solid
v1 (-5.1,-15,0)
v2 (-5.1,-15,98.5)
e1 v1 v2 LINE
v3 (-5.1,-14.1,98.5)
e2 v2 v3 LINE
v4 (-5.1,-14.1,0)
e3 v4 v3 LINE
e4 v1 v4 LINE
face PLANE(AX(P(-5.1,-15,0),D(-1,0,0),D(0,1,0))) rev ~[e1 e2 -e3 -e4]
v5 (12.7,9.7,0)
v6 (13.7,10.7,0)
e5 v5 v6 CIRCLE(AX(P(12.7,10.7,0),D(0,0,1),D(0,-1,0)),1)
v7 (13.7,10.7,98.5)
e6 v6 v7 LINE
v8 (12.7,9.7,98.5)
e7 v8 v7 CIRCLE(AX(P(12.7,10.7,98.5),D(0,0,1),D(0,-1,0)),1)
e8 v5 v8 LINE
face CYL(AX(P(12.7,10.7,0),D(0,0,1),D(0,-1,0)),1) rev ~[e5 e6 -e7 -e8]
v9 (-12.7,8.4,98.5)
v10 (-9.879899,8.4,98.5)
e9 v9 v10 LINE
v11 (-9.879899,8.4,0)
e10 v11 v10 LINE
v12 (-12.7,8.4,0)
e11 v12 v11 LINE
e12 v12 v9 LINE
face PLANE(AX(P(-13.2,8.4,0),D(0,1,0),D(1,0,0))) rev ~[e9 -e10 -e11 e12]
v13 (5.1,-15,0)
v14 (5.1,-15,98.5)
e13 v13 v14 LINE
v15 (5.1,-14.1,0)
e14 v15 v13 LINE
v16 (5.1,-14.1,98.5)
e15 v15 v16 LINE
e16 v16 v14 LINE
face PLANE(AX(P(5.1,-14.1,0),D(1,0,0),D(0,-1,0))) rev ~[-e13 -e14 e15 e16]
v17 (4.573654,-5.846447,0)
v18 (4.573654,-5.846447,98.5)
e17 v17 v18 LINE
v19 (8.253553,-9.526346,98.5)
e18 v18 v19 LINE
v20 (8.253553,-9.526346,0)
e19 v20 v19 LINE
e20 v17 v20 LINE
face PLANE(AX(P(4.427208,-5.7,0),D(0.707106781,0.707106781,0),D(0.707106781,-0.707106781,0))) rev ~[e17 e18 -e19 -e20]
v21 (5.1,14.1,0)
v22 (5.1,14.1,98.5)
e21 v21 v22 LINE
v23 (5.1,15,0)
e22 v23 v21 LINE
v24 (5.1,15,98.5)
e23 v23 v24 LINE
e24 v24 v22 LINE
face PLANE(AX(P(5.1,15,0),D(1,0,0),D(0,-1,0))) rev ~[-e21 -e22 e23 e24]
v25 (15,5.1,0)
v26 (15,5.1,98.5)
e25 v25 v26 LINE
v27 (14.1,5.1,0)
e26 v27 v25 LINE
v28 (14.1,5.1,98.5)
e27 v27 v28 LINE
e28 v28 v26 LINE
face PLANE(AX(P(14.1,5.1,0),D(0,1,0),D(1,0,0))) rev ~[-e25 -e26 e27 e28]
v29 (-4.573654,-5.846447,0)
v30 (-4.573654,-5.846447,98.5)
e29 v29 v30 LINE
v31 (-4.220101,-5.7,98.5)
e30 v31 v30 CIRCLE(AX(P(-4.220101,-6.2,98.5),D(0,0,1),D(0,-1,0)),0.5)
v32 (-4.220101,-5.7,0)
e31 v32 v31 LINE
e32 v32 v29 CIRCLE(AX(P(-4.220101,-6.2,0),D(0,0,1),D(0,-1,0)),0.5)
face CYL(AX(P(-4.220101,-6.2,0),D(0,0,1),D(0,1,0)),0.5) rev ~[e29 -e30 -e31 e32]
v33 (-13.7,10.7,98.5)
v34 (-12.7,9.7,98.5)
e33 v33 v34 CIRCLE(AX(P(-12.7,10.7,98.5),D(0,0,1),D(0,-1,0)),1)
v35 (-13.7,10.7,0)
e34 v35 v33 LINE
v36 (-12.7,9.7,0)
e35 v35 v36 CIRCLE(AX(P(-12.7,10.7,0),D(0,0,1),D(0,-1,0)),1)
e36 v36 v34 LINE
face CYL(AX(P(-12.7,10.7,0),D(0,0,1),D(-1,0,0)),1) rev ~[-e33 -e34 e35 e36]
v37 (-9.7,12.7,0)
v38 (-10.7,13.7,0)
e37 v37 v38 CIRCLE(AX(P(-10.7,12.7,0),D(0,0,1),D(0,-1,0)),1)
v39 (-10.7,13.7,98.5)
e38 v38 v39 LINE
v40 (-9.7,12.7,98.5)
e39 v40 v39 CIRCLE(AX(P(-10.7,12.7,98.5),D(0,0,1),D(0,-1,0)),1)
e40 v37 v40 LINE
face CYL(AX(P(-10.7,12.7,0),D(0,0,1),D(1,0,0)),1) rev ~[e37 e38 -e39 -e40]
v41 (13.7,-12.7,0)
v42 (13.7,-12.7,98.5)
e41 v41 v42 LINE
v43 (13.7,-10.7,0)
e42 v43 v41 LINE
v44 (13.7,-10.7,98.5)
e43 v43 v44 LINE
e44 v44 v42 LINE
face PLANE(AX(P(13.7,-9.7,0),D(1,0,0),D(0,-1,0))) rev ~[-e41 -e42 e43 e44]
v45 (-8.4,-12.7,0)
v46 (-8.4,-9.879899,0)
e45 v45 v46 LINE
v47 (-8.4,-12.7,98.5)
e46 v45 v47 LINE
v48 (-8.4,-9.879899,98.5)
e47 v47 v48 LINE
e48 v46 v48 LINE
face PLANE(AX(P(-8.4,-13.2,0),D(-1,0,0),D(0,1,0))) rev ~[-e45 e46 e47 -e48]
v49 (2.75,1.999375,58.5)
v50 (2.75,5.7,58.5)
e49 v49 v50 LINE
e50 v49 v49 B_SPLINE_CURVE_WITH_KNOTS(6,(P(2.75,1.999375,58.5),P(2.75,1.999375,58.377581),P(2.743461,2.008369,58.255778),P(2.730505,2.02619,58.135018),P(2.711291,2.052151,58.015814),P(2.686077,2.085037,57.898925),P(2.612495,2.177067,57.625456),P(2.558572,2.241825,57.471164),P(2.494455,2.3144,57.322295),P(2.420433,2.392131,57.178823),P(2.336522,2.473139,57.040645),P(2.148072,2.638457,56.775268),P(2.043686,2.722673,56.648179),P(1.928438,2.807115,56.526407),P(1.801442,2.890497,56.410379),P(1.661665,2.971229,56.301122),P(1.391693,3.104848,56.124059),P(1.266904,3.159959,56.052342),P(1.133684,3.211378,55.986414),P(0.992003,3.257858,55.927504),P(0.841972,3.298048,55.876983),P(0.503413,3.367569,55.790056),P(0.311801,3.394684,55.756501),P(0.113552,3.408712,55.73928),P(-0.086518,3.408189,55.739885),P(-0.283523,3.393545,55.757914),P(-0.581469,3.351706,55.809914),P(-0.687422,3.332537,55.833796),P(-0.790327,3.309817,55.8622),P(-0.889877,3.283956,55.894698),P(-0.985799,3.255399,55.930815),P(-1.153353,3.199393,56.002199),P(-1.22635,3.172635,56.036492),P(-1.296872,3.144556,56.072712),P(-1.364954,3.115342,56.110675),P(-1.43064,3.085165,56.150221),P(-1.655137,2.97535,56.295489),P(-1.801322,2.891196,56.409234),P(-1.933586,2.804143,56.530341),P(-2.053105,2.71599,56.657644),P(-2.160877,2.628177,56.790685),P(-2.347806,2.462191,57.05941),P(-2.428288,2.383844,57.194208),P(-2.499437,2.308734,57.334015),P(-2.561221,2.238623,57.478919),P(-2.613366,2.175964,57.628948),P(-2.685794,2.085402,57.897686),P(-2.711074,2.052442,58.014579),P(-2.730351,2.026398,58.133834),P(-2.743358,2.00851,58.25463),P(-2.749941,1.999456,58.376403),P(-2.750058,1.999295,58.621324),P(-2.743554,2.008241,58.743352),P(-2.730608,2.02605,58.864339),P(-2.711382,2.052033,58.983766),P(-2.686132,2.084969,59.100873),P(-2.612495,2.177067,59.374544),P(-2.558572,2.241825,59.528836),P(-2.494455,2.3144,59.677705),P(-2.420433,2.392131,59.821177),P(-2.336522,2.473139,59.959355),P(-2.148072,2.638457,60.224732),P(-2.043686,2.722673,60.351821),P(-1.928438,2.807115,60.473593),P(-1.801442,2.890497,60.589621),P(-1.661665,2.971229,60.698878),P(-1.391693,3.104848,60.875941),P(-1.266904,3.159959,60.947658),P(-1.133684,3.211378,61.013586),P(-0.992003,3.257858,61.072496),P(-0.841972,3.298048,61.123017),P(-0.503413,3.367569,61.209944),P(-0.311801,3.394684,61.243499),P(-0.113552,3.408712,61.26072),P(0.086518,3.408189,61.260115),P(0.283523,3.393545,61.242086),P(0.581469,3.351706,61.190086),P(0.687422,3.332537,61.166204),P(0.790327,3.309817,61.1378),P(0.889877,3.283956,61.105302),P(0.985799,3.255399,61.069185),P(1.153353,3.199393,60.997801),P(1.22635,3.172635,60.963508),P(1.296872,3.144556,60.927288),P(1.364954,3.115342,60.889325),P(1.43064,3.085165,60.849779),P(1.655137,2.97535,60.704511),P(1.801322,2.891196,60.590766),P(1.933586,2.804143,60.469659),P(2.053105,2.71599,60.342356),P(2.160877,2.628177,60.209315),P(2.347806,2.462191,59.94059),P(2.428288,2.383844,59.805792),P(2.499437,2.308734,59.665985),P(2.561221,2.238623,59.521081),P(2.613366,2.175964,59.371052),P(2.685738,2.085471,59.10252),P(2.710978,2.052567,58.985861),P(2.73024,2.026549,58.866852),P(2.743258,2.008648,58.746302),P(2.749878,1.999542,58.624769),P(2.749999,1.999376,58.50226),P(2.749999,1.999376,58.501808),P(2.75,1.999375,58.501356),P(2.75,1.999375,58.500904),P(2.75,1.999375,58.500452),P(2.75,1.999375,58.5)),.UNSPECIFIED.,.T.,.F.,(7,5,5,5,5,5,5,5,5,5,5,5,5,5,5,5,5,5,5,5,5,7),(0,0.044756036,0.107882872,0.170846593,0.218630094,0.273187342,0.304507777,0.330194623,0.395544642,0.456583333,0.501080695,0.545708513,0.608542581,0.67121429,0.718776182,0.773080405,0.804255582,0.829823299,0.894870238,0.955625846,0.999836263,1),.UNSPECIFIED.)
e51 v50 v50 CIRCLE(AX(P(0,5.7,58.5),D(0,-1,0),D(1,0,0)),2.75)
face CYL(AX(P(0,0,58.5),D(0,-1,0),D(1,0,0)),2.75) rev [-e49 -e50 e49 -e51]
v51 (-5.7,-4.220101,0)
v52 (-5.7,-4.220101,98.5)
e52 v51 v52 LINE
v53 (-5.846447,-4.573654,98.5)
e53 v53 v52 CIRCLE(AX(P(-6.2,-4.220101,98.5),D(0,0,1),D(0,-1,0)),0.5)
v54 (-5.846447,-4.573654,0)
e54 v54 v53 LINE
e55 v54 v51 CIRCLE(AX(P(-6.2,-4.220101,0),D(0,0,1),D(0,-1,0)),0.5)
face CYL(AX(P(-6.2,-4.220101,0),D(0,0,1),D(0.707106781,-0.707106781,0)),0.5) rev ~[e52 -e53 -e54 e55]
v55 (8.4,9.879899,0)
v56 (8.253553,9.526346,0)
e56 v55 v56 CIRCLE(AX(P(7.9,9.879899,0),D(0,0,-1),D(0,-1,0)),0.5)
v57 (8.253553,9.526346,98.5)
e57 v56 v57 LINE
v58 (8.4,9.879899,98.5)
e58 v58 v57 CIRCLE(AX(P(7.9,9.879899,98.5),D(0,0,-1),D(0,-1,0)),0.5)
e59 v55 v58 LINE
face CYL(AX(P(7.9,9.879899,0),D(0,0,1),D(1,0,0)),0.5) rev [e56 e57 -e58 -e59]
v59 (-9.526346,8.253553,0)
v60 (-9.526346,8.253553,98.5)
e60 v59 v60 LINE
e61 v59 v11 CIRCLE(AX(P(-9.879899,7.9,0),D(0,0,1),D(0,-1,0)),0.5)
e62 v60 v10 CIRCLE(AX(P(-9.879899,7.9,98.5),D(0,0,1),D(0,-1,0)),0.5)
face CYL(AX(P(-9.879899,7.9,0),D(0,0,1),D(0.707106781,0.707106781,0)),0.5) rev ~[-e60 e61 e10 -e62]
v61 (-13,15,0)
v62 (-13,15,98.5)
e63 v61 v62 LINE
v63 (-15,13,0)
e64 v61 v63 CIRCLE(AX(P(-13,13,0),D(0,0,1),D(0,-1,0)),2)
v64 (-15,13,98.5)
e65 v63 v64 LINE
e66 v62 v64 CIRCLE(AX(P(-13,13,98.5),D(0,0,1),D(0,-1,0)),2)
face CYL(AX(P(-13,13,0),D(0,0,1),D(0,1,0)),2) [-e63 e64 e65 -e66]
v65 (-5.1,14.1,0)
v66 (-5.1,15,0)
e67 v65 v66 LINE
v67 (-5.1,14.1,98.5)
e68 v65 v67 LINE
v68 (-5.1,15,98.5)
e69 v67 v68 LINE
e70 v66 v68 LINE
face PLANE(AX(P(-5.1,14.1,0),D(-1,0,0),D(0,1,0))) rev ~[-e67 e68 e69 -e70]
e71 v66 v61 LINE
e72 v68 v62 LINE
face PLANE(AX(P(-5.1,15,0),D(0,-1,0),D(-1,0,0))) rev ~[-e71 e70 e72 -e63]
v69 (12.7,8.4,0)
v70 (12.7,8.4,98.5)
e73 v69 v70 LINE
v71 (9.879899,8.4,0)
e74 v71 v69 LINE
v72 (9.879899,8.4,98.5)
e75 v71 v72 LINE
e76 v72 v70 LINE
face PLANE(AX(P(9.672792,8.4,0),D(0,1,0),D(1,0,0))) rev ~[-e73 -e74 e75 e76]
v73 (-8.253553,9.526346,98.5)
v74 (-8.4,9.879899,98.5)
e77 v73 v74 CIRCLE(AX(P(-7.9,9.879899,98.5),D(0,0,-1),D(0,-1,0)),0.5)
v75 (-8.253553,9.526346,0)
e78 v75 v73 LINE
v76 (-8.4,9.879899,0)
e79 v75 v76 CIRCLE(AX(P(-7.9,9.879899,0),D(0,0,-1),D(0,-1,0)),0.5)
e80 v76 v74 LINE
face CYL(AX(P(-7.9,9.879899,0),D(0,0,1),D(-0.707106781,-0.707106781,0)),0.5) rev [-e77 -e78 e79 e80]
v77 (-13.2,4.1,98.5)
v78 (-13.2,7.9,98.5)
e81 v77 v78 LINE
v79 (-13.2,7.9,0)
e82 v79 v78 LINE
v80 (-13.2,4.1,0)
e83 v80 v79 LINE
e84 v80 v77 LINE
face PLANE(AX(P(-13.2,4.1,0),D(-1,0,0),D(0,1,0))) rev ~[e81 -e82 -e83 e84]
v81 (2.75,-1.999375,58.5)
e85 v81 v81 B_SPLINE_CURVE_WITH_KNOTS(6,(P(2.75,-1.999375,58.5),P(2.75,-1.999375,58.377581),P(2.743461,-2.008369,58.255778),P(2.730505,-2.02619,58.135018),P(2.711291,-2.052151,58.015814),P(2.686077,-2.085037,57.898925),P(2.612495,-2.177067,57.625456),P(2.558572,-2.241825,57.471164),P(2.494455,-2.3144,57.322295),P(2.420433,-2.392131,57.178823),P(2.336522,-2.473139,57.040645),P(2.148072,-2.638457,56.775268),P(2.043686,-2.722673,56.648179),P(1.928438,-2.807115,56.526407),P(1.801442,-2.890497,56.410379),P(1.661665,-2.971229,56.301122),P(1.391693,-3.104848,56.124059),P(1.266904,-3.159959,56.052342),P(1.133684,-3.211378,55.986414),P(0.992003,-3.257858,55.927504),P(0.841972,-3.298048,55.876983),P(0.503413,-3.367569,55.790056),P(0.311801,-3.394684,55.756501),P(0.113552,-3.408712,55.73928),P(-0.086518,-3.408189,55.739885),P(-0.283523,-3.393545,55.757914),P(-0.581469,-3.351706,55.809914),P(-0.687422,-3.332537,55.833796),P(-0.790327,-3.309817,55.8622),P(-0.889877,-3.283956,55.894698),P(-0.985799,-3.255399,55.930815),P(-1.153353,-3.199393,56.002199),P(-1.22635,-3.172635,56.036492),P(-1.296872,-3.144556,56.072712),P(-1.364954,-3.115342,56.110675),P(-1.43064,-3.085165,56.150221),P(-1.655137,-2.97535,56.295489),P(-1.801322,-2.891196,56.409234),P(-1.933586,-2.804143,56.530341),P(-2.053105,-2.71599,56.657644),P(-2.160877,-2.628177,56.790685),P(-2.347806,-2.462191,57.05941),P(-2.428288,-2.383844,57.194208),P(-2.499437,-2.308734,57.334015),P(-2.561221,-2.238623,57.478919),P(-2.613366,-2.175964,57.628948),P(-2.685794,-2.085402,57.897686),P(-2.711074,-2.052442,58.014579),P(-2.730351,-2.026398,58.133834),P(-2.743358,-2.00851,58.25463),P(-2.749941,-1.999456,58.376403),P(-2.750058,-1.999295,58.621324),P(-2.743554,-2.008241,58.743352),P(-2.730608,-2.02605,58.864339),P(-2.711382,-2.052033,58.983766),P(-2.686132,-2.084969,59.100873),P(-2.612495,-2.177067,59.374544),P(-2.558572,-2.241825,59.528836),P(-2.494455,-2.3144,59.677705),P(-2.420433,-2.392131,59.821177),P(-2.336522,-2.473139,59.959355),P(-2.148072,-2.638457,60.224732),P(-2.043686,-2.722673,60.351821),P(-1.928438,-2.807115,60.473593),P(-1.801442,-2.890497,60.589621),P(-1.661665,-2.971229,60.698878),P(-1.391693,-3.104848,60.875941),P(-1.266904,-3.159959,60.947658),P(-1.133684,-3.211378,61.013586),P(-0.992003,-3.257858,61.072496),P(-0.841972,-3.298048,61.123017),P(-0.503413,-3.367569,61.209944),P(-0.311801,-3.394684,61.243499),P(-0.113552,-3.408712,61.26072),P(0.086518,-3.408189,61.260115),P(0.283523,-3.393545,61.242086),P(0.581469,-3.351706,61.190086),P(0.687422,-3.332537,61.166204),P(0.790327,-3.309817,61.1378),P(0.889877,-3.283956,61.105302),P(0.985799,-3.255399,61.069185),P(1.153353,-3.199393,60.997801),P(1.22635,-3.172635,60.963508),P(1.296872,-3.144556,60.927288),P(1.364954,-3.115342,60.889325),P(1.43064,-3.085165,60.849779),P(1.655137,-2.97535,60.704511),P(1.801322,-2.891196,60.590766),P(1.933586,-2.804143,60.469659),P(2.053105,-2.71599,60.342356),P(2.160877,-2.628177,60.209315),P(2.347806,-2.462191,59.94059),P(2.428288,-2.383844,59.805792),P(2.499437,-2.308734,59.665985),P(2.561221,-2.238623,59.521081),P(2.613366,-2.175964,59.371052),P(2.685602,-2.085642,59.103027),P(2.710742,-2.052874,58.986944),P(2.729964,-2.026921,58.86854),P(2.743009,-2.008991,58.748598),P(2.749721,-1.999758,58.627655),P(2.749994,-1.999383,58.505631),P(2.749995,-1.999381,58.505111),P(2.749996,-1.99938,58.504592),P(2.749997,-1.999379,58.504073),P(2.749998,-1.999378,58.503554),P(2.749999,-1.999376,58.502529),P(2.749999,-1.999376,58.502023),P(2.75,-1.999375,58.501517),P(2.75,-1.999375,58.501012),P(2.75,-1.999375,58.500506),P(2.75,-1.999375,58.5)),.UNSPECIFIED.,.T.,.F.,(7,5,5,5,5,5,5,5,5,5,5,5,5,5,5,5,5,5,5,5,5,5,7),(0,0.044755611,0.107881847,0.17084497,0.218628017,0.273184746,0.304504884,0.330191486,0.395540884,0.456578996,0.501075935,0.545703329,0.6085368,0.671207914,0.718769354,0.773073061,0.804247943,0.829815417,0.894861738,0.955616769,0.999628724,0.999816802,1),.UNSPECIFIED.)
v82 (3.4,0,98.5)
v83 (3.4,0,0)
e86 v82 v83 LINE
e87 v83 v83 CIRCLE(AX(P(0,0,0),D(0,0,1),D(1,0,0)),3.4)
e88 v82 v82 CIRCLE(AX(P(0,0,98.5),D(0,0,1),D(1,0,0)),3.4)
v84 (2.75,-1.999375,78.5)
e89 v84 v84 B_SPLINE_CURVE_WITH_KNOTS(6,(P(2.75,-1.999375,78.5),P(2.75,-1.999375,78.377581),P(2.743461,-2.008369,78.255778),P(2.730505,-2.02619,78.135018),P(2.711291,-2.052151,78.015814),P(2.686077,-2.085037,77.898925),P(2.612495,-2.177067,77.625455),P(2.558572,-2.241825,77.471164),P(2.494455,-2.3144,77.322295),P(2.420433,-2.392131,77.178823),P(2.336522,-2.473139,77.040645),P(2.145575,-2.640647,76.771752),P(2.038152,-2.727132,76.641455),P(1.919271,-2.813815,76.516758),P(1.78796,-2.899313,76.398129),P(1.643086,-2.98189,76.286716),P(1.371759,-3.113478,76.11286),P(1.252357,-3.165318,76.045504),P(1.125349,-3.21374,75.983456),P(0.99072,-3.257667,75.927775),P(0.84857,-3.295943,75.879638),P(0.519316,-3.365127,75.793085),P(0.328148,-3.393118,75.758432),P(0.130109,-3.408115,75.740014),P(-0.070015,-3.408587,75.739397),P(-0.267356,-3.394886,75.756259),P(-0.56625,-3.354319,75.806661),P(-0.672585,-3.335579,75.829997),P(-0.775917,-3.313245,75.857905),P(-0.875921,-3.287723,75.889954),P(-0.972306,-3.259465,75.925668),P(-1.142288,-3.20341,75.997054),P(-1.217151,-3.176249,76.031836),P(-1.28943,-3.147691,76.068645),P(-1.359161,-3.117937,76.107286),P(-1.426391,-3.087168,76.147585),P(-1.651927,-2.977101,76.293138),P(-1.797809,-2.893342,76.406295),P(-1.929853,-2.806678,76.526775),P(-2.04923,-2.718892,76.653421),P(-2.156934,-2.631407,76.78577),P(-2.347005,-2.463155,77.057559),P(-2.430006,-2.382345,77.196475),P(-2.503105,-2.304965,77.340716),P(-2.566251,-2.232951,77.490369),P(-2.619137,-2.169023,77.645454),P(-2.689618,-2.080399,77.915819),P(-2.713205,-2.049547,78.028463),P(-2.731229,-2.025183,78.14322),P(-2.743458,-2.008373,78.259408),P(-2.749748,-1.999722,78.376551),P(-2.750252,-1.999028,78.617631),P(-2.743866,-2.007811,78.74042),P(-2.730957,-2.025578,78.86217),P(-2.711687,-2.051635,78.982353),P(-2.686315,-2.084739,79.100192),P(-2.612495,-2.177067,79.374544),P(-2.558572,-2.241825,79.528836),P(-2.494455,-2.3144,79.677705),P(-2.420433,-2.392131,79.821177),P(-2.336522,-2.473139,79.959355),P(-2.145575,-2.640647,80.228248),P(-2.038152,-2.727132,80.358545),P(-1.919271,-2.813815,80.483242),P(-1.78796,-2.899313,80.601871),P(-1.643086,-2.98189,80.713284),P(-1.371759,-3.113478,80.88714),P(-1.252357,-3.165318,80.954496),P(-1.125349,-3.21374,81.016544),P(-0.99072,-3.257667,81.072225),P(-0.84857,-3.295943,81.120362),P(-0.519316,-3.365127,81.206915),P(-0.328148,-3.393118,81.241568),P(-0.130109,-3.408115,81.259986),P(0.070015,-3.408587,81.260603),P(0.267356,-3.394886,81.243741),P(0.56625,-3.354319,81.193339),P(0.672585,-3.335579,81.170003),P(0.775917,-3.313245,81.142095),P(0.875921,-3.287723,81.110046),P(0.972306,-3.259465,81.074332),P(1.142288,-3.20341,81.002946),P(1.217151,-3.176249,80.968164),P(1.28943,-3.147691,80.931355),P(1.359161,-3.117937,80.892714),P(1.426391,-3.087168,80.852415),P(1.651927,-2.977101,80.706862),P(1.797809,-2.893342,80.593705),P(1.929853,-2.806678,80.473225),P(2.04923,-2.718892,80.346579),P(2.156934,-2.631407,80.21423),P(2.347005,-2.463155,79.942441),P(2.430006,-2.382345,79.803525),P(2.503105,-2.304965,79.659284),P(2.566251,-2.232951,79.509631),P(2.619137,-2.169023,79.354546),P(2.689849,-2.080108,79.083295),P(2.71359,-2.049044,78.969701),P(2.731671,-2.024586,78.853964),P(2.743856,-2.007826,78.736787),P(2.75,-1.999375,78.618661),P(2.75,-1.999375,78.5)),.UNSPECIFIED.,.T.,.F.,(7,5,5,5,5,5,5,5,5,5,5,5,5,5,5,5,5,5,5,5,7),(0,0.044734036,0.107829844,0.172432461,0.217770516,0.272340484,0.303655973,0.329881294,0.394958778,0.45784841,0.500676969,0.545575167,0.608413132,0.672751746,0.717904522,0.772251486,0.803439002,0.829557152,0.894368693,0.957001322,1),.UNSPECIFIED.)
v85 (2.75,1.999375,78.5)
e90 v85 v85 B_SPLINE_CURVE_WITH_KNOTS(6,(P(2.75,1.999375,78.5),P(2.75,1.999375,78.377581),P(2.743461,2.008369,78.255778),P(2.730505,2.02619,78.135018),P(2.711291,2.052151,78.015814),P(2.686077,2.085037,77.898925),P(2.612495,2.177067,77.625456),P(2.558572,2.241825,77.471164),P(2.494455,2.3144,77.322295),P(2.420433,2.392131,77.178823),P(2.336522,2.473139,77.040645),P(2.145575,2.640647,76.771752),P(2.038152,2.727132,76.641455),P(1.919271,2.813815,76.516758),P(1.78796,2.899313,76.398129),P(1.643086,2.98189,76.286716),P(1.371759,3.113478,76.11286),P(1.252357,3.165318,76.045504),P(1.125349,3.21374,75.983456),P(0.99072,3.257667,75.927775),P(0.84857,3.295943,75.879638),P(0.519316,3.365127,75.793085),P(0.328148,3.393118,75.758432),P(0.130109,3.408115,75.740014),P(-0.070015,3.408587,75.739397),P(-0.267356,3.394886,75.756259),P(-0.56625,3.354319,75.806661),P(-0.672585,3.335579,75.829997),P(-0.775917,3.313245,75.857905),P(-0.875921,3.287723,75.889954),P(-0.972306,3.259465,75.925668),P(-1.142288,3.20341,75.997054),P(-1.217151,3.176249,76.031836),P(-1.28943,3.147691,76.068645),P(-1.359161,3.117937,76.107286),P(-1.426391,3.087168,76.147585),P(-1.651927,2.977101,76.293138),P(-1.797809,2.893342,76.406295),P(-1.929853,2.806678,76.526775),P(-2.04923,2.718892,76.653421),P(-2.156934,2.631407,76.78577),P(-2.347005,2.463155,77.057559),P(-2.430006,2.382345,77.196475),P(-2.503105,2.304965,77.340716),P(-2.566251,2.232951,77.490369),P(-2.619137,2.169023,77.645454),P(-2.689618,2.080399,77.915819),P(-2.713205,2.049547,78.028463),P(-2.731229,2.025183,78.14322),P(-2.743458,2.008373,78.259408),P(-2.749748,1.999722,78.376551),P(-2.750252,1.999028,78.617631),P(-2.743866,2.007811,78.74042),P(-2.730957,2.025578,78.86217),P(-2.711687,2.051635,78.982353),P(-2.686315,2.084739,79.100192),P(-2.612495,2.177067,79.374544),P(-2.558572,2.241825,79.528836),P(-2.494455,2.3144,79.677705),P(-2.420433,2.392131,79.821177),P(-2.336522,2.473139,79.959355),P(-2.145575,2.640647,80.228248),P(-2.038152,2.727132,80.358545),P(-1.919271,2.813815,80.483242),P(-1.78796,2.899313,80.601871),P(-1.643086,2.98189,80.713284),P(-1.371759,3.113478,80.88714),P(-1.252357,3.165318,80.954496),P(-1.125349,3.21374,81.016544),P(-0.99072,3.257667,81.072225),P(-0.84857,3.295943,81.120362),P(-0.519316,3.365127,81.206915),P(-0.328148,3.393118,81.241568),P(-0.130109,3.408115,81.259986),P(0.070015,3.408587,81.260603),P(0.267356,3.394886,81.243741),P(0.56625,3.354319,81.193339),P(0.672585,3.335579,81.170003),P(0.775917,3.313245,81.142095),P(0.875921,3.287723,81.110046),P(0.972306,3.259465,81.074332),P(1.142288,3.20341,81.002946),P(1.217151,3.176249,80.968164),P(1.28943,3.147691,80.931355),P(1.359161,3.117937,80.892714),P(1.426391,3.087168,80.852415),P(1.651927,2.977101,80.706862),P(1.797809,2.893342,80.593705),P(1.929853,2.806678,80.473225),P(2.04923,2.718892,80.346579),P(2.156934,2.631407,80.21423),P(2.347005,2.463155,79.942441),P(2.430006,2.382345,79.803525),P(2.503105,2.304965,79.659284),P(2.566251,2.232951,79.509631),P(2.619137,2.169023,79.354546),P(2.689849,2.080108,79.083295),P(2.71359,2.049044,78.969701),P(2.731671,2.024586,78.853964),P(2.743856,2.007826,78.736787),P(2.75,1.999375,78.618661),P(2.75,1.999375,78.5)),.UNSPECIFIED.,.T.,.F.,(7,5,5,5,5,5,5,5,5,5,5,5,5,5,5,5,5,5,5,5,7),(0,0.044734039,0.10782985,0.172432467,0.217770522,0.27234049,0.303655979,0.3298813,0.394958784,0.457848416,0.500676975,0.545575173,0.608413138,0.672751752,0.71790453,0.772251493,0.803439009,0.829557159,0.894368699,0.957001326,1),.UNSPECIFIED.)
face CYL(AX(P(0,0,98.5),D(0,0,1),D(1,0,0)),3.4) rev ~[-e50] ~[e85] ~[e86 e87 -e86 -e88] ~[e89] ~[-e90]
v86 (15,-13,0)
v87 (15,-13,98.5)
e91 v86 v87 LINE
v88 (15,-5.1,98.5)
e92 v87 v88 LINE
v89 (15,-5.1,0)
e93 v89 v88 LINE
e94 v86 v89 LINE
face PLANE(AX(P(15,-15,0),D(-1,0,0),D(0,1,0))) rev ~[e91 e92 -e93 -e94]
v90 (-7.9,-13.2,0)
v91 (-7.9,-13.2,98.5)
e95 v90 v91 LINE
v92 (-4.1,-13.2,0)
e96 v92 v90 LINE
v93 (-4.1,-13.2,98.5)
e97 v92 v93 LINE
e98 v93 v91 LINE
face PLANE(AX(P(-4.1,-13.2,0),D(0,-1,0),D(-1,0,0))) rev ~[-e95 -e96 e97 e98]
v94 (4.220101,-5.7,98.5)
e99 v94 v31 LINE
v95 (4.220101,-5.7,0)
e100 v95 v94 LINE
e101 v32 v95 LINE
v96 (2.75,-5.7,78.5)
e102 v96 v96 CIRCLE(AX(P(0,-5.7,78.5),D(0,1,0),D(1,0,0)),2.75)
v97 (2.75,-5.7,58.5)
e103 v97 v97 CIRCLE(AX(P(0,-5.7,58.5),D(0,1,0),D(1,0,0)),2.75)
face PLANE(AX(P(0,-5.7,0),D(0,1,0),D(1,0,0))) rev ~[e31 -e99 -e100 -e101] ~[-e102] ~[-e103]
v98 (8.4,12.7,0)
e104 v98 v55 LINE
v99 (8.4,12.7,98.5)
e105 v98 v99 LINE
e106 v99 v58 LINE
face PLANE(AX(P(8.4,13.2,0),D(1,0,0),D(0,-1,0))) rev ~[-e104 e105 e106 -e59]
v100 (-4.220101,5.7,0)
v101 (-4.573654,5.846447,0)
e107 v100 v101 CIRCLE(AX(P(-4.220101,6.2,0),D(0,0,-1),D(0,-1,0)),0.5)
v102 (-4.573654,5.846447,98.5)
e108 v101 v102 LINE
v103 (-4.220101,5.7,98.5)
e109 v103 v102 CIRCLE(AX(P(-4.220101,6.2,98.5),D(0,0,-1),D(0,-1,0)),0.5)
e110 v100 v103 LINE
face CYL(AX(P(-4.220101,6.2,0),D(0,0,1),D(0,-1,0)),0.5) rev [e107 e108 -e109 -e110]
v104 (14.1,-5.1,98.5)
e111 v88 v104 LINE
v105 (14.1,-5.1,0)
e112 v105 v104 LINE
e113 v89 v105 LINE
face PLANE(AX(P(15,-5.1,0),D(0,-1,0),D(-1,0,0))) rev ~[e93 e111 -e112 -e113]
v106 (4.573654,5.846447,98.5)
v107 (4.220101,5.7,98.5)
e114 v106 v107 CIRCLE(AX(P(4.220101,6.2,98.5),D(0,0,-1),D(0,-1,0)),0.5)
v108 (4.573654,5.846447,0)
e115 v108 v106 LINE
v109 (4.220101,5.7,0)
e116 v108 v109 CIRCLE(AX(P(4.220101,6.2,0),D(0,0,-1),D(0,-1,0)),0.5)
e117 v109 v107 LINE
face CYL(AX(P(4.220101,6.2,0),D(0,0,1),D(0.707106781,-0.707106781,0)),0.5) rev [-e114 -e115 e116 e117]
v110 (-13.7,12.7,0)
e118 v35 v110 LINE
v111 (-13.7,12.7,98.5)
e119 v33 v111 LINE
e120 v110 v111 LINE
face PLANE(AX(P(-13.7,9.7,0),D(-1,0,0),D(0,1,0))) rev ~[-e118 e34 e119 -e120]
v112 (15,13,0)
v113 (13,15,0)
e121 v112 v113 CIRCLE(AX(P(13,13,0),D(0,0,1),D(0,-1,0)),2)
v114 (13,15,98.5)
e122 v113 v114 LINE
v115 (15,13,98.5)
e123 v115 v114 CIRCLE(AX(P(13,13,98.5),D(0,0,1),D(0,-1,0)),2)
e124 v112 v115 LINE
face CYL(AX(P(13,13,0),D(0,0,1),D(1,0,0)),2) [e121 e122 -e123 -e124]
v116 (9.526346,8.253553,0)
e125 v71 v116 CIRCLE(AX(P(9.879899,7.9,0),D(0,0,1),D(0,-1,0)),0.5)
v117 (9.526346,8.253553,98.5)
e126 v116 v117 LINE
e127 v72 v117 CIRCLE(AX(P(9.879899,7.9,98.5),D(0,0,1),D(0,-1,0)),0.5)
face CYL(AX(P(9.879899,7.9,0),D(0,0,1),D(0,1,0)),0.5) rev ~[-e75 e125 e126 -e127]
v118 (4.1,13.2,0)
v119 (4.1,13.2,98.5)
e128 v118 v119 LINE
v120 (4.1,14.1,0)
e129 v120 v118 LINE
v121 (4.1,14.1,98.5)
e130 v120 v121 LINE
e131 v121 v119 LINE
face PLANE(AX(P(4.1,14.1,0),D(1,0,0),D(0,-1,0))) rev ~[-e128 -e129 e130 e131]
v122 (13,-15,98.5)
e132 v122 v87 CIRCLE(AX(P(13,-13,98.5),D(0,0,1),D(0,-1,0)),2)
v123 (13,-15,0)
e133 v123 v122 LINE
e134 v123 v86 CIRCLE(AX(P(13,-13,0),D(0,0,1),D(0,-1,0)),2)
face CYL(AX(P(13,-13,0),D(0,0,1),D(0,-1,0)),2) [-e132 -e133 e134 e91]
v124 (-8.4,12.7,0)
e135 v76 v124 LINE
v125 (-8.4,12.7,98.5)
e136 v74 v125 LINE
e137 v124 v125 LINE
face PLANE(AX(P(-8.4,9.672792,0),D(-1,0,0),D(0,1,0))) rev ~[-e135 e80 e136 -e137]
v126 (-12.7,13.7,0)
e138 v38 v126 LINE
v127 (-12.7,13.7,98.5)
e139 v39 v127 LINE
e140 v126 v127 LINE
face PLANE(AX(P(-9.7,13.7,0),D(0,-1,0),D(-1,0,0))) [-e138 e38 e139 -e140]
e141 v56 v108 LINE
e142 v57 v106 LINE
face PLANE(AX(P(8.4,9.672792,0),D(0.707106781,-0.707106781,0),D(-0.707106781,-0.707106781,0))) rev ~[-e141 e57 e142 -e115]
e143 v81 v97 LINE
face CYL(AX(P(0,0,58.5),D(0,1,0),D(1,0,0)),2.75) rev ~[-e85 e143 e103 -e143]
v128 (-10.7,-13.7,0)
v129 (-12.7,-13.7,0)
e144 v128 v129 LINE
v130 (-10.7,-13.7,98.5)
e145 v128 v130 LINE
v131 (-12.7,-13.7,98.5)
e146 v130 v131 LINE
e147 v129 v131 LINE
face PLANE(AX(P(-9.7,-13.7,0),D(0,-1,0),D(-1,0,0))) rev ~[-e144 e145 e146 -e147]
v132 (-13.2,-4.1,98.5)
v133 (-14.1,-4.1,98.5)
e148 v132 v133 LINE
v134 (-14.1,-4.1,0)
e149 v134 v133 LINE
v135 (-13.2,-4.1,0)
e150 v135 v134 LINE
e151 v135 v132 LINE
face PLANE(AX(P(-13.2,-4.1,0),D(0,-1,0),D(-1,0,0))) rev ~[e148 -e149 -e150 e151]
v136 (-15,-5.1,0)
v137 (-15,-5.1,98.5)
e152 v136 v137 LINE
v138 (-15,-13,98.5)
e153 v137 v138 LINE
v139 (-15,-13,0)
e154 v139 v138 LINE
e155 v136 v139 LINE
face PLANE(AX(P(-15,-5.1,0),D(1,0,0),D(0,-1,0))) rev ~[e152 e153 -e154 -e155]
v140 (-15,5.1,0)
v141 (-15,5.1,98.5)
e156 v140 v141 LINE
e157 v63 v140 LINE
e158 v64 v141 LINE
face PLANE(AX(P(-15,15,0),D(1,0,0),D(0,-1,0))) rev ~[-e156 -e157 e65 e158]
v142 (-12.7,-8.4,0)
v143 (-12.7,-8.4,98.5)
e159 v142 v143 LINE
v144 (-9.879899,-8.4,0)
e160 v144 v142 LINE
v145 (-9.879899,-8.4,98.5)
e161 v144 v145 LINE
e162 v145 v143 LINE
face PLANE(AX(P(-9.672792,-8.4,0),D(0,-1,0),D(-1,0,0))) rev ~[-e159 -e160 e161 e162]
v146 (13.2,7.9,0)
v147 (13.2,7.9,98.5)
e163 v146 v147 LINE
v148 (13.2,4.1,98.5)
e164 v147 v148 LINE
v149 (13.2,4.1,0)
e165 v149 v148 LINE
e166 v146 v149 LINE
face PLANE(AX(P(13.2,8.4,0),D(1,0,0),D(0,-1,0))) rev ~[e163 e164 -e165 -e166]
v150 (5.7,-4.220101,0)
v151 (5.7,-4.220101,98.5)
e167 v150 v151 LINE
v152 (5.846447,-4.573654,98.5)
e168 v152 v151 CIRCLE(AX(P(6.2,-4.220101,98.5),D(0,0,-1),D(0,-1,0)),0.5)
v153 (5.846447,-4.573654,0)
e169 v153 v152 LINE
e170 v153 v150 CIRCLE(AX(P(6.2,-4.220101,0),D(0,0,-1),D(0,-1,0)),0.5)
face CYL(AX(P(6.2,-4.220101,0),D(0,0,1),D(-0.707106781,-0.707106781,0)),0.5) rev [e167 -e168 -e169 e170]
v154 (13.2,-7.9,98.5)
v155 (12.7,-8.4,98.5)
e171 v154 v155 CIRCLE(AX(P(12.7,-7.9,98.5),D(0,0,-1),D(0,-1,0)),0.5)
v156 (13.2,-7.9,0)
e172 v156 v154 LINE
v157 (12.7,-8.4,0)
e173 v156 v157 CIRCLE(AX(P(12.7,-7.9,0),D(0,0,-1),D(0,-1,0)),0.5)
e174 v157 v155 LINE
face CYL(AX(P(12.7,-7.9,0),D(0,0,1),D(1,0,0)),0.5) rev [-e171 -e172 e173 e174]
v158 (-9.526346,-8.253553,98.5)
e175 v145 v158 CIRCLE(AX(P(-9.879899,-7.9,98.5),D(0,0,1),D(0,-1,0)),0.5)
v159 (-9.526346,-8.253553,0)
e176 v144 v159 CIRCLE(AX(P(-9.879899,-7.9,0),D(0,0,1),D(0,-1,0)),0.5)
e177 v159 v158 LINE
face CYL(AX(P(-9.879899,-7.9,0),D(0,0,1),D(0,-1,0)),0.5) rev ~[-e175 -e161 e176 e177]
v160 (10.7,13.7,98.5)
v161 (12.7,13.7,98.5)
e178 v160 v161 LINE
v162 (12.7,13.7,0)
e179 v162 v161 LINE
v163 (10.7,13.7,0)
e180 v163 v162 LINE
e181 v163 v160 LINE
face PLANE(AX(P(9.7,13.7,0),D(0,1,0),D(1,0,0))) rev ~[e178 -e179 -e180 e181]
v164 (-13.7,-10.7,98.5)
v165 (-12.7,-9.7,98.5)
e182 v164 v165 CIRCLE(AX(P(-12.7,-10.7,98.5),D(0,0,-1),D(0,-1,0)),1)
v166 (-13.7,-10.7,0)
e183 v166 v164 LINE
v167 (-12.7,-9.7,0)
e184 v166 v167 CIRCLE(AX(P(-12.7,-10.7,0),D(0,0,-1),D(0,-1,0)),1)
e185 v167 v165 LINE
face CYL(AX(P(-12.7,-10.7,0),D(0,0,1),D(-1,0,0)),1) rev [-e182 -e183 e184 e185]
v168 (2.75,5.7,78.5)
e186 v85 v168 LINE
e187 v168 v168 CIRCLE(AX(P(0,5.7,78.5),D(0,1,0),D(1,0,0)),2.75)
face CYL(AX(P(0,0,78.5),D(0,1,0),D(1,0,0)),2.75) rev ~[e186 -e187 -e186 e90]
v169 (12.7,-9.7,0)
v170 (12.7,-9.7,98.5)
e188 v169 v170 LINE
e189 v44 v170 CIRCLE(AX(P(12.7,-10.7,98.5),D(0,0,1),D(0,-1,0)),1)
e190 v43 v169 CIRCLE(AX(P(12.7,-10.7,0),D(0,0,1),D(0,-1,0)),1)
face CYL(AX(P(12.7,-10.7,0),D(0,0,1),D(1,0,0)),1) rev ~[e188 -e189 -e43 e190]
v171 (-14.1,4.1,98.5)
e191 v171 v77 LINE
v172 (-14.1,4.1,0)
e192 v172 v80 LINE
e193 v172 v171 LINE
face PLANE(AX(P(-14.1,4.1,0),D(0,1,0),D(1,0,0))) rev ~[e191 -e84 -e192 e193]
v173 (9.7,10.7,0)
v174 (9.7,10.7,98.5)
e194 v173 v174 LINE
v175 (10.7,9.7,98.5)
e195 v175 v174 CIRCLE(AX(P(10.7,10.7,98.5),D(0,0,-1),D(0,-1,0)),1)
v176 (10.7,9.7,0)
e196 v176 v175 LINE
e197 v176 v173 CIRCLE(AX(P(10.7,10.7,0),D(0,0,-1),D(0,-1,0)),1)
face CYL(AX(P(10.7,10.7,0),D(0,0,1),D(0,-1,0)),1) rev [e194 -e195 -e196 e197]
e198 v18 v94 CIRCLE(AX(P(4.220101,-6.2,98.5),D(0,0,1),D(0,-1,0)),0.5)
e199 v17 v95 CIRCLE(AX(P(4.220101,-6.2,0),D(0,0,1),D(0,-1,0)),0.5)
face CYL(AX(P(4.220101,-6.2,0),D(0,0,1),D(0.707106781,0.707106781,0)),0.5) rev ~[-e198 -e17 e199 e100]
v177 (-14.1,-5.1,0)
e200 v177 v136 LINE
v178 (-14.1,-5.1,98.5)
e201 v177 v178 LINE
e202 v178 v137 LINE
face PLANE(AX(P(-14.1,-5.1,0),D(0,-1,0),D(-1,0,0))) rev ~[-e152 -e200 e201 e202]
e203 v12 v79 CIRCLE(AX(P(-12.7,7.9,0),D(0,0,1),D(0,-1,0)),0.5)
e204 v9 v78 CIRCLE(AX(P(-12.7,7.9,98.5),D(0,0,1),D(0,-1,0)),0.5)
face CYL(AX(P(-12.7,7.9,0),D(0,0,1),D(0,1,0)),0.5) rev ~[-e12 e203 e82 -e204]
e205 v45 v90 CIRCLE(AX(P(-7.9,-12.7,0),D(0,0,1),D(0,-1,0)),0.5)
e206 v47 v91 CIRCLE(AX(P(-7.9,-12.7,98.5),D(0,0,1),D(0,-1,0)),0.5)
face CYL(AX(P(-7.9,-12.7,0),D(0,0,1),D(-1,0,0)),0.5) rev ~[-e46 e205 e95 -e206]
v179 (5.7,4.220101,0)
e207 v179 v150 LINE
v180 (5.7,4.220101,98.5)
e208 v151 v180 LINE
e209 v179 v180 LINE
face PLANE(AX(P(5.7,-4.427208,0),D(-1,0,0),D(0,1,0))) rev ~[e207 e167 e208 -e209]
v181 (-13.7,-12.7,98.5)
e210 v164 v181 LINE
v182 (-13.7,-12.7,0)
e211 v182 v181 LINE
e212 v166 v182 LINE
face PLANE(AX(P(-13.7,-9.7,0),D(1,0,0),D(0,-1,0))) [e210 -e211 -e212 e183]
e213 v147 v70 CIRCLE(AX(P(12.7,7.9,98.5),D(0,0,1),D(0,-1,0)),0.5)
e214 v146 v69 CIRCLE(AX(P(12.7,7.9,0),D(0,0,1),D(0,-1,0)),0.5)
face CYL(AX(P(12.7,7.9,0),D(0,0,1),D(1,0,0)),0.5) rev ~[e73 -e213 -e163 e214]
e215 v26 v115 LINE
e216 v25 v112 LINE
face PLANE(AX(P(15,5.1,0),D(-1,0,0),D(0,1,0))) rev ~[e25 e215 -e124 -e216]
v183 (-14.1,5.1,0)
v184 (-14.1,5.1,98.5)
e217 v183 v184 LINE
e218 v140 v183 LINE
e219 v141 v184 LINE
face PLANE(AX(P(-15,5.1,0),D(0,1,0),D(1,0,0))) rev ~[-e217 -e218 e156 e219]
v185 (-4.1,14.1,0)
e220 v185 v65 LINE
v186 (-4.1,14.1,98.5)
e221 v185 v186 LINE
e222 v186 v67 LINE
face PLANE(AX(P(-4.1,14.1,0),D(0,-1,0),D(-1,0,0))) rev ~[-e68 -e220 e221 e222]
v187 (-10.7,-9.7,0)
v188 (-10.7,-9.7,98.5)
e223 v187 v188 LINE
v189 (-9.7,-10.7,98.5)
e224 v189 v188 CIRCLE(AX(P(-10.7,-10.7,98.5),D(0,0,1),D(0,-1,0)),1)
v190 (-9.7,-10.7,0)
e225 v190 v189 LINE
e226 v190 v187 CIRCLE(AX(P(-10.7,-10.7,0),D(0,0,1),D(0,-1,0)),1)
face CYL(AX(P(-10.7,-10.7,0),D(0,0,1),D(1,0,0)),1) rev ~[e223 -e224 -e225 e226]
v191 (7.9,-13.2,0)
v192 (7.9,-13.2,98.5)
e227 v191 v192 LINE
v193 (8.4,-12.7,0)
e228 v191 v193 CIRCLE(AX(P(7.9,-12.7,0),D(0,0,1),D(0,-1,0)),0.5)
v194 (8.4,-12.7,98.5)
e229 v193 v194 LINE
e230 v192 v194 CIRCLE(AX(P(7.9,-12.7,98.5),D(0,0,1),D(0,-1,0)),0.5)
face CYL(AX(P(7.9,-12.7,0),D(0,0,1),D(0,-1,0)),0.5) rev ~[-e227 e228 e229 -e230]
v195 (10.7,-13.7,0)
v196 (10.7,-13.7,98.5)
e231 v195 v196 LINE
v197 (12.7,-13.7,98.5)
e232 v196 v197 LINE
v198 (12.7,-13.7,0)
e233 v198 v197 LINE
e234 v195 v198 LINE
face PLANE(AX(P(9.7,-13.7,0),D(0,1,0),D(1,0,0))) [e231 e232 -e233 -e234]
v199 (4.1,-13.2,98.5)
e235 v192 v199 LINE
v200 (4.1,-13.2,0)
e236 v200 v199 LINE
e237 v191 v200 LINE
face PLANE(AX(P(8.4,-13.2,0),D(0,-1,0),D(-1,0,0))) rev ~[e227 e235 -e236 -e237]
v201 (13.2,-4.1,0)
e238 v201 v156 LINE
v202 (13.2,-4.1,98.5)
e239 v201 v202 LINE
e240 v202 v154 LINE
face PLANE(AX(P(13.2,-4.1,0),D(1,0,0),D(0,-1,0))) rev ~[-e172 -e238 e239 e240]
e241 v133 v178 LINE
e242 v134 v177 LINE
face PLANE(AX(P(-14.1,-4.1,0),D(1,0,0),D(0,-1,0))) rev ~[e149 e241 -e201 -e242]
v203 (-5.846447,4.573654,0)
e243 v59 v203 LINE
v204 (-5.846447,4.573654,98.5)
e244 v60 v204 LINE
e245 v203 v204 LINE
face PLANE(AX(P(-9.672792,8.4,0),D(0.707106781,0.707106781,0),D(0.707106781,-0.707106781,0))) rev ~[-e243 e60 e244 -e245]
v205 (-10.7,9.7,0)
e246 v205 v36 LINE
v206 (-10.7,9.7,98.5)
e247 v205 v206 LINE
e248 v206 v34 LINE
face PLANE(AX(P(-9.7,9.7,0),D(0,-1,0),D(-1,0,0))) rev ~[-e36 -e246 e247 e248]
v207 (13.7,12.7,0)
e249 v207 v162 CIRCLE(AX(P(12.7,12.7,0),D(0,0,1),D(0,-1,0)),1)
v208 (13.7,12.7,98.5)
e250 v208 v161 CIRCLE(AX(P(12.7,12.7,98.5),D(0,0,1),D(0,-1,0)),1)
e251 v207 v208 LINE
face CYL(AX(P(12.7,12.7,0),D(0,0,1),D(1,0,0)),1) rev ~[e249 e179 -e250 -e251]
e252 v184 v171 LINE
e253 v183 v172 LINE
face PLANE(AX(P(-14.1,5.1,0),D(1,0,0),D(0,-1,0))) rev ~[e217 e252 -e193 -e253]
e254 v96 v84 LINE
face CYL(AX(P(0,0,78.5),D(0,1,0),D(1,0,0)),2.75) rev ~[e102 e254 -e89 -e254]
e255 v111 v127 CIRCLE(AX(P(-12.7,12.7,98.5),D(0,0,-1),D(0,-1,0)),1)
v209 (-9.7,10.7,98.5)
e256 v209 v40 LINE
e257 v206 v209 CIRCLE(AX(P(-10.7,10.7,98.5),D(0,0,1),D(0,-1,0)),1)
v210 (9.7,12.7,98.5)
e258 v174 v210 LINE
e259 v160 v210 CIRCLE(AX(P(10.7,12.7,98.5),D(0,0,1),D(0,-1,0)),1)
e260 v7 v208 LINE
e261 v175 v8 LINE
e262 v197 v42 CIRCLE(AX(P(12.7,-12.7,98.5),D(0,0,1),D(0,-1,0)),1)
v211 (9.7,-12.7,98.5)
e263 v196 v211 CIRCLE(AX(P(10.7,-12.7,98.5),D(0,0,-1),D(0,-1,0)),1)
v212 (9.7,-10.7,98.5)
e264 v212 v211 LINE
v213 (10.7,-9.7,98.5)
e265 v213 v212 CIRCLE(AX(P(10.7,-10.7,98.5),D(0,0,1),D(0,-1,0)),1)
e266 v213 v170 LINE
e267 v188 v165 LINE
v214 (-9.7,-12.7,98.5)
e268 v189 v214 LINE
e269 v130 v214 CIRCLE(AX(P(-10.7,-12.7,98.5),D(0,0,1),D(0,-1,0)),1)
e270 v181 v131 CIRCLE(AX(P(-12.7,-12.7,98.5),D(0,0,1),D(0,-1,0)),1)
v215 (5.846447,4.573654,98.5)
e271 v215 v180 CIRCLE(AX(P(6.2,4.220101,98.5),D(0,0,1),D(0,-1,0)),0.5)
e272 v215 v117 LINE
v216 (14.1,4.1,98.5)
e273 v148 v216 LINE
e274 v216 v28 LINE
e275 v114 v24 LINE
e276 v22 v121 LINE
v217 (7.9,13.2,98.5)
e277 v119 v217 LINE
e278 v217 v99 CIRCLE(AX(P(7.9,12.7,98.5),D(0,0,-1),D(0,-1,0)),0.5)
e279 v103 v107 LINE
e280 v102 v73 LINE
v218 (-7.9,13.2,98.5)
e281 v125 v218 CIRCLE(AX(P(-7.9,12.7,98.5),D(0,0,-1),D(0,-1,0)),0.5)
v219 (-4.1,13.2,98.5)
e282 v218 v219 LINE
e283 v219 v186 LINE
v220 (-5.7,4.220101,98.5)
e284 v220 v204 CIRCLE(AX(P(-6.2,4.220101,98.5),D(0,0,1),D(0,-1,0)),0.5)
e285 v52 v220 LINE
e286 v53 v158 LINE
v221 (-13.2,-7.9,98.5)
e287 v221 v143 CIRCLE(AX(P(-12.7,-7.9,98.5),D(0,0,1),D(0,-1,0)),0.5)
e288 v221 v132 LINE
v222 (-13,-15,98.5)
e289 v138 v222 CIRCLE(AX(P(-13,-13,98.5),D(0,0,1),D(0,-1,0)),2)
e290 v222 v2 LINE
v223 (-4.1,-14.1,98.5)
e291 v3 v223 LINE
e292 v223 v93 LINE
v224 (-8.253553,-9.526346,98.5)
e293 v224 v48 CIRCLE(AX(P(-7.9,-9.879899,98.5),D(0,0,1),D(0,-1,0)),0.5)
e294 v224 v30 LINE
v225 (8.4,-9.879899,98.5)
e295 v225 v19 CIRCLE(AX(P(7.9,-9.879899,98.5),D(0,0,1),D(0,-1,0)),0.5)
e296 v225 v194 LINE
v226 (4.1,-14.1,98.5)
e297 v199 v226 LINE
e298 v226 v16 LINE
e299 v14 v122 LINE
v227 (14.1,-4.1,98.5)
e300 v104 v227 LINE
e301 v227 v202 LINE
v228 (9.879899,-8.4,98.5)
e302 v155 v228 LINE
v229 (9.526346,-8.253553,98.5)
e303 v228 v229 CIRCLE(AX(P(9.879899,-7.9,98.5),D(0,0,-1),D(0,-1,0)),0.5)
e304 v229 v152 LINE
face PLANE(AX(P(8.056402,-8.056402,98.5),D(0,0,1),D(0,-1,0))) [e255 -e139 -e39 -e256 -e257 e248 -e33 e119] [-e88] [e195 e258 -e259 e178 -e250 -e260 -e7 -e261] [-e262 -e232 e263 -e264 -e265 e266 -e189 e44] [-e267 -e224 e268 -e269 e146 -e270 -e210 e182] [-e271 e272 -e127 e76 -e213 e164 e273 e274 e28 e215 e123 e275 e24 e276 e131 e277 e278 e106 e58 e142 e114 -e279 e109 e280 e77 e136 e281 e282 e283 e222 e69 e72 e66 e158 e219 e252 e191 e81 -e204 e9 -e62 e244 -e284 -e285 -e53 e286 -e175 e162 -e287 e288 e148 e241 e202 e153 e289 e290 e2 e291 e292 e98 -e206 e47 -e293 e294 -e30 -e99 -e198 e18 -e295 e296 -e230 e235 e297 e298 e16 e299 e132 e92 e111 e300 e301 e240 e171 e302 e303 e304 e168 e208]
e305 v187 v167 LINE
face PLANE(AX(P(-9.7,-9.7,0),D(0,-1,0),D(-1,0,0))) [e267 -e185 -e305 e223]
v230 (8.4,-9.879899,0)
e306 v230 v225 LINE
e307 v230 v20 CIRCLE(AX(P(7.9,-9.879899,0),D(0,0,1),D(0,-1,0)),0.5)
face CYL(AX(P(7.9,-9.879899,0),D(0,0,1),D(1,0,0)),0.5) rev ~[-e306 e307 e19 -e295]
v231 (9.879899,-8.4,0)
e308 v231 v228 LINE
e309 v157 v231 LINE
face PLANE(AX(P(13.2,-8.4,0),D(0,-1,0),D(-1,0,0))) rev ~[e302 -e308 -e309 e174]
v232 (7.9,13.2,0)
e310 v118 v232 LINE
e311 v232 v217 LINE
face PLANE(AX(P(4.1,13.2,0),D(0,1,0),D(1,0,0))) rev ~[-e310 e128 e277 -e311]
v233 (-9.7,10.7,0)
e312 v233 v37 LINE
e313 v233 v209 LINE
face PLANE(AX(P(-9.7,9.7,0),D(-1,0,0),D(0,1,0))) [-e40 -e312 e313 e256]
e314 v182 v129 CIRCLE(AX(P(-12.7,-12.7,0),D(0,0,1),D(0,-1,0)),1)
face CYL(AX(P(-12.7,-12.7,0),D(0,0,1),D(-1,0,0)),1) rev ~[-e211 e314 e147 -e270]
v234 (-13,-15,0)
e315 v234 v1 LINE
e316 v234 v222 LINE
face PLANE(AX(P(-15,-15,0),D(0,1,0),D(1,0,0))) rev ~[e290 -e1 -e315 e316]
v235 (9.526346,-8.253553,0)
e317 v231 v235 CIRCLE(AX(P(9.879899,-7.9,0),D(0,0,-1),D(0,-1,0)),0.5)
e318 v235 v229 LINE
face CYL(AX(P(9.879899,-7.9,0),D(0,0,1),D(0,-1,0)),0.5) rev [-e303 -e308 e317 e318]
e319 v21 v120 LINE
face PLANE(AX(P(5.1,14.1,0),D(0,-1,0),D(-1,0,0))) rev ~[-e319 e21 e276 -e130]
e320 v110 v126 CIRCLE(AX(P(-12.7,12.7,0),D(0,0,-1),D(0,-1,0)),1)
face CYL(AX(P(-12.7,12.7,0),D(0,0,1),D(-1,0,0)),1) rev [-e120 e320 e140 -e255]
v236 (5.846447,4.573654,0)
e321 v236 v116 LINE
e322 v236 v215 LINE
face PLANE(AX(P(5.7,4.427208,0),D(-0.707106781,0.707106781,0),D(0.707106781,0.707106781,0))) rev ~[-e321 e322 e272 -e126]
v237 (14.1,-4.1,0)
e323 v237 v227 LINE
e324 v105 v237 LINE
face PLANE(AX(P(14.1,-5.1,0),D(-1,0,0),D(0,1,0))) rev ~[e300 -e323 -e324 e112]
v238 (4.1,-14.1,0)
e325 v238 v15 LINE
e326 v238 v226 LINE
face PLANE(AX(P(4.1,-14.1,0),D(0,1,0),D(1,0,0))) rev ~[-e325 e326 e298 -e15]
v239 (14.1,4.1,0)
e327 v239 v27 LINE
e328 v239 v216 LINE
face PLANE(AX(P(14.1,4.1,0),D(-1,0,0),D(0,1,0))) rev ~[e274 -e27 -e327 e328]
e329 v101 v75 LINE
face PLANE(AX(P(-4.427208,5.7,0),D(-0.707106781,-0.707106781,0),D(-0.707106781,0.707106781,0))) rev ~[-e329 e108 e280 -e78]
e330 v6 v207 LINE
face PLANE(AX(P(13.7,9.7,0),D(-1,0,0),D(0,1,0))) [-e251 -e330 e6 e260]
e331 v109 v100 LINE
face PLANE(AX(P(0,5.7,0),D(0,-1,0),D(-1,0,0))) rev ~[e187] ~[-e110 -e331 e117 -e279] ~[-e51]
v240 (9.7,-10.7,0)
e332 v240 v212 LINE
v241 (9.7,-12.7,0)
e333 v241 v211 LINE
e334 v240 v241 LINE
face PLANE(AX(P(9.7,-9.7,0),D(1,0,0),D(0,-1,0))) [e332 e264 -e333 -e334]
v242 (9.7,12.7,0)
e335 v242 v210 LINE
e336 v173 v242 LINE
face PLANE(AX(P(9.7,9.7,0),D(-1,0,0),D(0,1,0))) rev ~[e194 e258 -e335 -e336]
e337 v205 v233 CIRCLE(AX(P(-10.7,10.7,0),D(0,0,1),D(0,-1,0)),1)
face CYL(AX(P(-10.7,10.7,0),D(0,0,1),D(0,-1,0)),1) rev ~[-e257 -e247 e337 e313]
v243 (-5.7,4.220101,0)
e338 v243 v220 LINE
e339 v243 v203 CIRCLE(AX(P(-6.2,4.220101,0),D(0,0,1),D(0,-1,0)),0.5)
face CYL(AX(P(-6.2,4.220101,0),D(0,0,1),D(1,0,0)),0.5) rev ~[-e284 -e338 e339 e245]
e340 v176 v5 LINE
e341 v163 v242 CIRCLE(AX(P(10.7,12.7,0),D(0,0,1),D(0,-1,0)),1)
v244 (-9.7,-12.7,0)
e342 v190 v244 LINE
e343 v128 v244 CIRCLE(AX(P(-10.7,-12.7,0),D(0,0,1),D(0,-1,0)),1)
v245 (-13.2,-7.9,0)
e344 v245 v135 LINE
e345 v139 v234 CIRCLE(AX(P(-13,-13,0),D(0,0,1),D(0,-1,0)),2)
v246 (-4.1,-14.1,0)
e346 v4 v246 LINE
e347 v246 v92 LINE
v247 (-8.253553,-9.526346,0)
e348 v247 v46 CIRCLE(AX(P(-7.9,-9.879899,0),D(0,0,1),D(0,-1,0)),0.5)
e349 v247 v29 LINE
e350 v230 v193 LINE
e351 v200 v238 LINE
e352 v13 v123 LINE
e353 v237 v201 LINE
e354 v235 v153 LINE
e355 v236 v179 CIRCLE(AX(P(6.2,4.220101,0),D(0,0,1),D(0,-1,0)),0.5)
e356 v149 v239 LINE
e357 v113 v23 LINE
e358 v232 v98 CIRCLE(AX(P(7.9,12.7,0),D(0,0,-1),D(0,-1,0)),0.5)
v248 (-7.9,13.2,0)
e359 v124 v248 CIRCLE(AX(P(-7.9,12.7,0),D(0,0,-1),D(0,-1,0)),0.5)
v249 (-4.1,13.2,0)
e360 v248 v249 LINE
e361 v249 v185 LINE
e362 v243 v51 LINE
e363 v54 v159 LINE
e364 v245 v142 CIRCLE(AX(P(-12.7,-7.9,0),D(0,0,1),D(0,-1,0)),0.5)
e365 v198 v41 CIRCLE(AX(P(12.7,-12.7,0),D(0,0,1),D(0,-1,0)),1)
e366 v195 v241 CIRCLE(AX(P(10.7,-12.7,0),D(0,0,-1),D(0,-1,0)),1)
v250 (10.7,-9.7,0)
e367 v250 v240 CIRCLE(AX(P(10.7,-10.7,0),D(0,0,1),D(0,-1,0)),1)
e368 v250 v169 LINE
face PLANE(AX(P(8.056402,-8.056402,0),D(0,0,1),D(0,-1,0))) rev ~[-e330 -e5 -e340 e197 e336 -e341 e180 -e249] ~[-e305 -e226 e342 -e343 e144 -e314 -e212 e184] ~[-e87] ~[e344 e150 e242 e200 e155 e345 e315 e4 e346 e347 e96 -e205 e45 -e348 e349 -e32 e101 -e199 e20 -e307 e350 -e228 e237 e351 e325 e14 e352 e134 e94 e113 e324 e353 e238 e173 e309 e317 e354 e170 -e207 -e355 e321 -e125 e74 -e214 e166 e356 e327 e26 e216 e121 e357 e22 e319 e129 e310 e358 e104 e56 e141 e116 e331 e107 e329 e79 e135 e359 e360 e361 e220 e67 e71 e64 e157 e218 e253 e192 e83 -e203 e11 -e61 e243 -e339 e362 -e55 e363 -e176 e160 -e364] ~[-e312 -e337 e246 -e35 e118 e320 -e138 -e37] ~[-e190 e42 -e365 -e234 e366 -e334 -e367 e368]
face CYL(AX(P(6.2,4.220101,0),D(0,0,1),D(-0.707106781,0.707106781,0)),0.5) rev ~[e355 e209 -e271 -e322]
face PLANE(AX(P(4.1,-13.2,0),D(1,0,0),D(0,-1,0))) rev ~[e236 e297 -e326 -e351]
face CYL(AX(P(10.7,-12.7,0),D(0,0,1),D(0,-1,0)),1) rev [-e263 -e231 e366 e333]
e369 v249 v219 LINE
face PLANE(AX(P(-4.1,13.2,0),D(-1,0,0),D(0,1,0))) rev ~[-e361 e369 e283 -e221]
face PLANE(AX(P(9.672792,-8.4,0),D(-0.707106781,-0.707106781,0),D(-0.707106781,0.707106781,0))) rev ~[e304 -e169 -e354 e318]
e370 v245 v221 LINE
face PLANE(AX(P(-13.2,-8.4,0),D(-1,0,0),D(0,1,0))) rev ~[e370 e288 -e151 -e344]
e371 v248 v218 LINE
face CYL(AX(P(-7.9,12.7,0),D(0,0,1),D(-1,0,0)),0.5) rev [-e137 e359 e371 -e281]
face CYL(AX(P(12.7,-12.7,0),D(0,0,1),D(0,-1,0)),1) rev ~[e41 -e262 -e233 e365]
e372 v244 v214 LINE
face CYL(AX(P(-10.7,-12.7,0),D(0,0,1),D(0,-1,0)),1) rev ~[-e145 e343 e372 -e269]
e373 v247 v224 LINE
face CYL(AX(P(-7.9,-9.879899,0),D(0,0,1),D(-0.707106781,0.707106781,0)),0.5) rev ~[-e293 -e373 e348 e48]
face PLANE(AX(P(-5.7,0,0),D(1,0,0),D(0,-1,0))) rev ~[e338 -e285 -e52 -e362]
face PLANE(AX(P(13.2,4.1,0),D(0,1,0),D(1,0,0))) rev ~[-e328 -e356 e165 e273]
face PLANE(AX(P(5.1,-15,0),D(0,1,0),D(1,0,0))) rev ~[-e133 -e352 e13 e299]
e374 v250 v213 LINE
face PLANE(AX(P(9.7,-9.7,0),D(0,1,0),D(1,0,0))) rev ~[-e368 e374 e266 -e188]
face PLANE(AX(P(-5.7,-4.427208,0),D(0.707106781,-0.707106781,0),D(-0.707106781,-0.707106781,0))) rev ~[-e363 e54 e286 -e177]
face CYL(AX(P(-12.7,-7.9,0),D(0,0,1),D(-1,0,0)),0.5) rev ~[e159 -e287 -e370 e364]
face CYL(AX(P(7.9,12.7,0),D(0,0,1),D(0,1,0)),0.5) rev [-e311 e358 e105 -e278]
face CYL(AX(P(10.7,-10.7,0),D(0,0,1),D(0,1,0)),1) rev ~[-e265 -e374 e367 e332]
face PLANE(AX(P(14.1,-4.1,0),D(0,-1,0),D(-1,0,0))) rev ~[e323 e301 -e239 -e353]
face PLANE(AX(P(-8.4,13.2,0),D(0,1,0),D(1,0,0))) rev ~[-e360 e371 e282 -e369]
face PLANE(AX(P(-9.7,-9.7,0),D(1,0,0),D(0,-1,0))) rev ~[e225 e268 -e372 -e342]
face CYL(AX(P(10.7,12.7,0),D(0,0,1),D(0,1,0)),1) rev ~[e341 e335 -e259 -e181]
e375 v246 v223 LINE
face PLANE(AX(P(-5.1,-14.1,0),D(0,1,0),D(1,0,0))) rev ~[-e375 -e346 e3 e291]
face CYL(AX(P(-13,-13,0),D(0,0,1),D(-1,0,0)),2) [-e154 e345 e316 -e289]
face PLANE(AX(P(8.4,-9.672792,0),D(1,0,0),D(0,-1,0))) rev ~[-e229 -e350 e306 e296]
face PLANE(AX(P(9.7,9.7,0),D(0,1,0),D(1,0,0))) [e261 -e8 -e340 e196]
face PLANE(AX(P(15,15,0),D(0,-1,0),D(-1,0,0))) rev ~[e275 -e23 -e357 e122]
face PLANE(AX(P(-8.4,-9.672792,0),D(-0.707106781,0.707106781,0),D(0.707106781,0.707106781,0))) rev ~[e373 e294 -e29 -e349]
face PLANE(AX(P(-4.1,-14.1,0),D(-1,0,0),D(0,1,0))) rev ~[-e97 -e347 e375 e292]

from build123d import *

# Parameters (mm, degrees)
SKETCH_1_W                       = 4
SKETCH_1_H                       = 4
EXTRUDE_1_DEPTH                  = 98.5
FILLET_1_R                       = 1
FILLET_2_R                       = 2
FILLET_3_R                       = 0.5
PATTERN_CIRCULAR_1_COUNT         = 4
FILLET_1_OF_PATTERN_CIRCULAR_1_R = 1
FILLET_2_OF_PATTERN_CIRCULAR_1_R = 2
FILLET_3_OF_PATTERN_CIRCULAR_1_R = 0.5
SKETCH_2_R                       = 3.4
CUT_EXTRUDE_1_DEPTH              = 99.5
SKETCH_3_R                       = 2.75
CUT_EXTRUDE_2_DEPTH              = 530


with BuildPart() as part:
    # 草图1 → 凸台-拉伸1 (new body)
    with BuildSketch(Plane.XY):
        Polygon((5.7, 0), (5.7, 4.427207794), (9.672792206, 8.4), (13.2, 8.4), (13.2, 4.1), (14.1, 4.1), (14.1, 5.1), (15, 5.1), (15, 15), (5.1, 15), (5.1, 14.1), (4.1, 14.1), (4.1, 13.2), (8.4, 13.2), (8.4, 9.672792206), (4.427207794, 5.7), (0, 5.7), (0, 0), align=None)
        with Locations((11.7, 11.7)):
            Rectangle(SKETCH_1_W, SKETCH_1_H, mode=Mode.SUBTRACT)
    extrude_1 = extrude(amount=EXTRUDE_1_DEPTH)

    # 圆角1
    fillet_1_edges = [part.edges().sort_by_distance(p)[0] for p in [
        (13.7, 9.7, 49.25),
        (13.7, 13.7, 49.25),
        (9.7, 13.7, 49.25),
        (9.7, 9.7, 49.25),
    ]]
    fillet(fillet_1_edges, radius=FILLET_1_R)

    # 圆角2
    fillet_2_edges = [part.edges().sort_by_distance(p)[0] for p in [
        (15, 15, 49.25),
    ]]
    fillet(fillet_2_edges, radius=FILLET_2_R)

    # 圆角3
    fillet_3_edges = [part.edges().sort_by_distance(p)[0] for p in [
        (4.427207794, 5.7, 49.25),
        (8.4, 9.672792206, 49.25),
        (8.4, 13.2, 49.25),
        (13.2, 8.4, 49.25),
        (9.672792206, 8.4, 49.25),
        (5.7, 4.427207794, 49.25),
    ]]
    fillet(fillet_3_edges, radius=FILLET_3_R)

    # 阵列(圆周)1: 凸台-拉伸1 ×4 about axis
    pattern_circular_1_axis = Axis((0, 0, 0), (0, 0, 1))
    for i in range(1, PATTERN_CIRCULAR_1_COUNT):
        add(extrude_1.rotate(pattern_circular_1_axis, i * 360 / PATTERN_CIRCULAR_1_COUNT))

    # 圆角1 of 阵列(圆周)1
    fillet_1_of_pattern_circular_1_edges = [part.edges().sort_by_distance(p)[0] for p in [
        (-9.7, 13.7, 49.25),
        (-13.7, 13.7, 49.25),
        (-13.7, 9.7, 49.25),
        (-9.7, 9.7, 49.25),
        (-13.7, -9.7, 49.25),
        (-13.7, -13.7, 49.25),
        (-9.7, -13.7, 49.25),
        (-9.7, -9.7, 49.25),
        (9.7, -13.7, 49.25),
        (13.7, -13.7, 49.25),
        (13.7, -9.7, 49.25),
        (9.7, -9.7, 49.25),
    ]]
    fillet(fillet_1_of_pattern_circular_1_edges, radius=FILLET_1_OF_PATTERN_CIRCULAR_1_R)

    # 圆角2 of 阵列(圆周)1
    fillet_2_of_pattern_circular_1_edges = [part.edges().sort_by_distance(p)[0] for p in [
        (-15, 15, 49.25),
        (-15, -15, 49.25),
        (15, -15, 49.25),
    ]]
    fillet(fillet_2_of_pattern_circular_1_edges, radius=FILLET_2_OF_PATTERN_CIRCULAR_1_R)

    # 圆角3 of 阵列(圆周)1
    fillet_3_of_pattern_circular_1_edges = [part.edges().sort_by_distance(p)[0] for p in [
        (-5.7, 4.427207794, 49.25),
        (-9.672792206, 8.4, 49.25),
        (-13.2, 8.4, 49.25),
        (-8.4, 13.2, 49.25),
        (-8.4, 9.672792206, 49.25),
        (-4.427207794, 5.7, 49.25),
        (-4.427207794, -5.7, 49.25),
        (-8.4, -9.672792206, 49.25),
        (-8.4, -13.2, 49.25),
        (-13.2, -8.4, 49.25),
        (-9.672792206, -8.4, 49.25),
        (-5.7, -4.427207794, 49.25),
        (5.7, -4.427207794, 49.25),
        (9.672792206, -8.4, 49.25),
        (13.2, -8.4, 49.25),
        (8.4, -13.2, 49.25),
        (8.4, -9.672792206, 49.25),
        (4.427207794, -5.7, 49.25),
    ]]
    fillet(fillet_3_of_pattern_circular_1_edges, radius=FILLET_3_OF_PATTERN_CIRCULAR_1_R)

    # 草图2 → 切除-拉伸1 (cut, through all)
    with BuildSketch(Plane.XY.offset(98.5)):
        Circle(SKETCH_2_R)
    extrude(amount=-CUT_EXTRUDE_1_DEPTH, mode=Mode.SUBTRACT)

    # 草图3 → 切除-拉伸2 (cut, symmetric)
    with BuildSketch(Plane(origin=(0, 0, 0), x_dir=(1, 0, 0), z_dir=(0, 1, 0))):
        with Locations((0, -58.5)):
            Circle(SKETCH_3_R)
        with Locations((0, -78.5)):
            Circle(SKETCH_3_R)
    extrude(amount=CUT_EXTRUDE_2_DEPTH, both=True, mode=Mode.SUBTRACT)


solid = part.part
